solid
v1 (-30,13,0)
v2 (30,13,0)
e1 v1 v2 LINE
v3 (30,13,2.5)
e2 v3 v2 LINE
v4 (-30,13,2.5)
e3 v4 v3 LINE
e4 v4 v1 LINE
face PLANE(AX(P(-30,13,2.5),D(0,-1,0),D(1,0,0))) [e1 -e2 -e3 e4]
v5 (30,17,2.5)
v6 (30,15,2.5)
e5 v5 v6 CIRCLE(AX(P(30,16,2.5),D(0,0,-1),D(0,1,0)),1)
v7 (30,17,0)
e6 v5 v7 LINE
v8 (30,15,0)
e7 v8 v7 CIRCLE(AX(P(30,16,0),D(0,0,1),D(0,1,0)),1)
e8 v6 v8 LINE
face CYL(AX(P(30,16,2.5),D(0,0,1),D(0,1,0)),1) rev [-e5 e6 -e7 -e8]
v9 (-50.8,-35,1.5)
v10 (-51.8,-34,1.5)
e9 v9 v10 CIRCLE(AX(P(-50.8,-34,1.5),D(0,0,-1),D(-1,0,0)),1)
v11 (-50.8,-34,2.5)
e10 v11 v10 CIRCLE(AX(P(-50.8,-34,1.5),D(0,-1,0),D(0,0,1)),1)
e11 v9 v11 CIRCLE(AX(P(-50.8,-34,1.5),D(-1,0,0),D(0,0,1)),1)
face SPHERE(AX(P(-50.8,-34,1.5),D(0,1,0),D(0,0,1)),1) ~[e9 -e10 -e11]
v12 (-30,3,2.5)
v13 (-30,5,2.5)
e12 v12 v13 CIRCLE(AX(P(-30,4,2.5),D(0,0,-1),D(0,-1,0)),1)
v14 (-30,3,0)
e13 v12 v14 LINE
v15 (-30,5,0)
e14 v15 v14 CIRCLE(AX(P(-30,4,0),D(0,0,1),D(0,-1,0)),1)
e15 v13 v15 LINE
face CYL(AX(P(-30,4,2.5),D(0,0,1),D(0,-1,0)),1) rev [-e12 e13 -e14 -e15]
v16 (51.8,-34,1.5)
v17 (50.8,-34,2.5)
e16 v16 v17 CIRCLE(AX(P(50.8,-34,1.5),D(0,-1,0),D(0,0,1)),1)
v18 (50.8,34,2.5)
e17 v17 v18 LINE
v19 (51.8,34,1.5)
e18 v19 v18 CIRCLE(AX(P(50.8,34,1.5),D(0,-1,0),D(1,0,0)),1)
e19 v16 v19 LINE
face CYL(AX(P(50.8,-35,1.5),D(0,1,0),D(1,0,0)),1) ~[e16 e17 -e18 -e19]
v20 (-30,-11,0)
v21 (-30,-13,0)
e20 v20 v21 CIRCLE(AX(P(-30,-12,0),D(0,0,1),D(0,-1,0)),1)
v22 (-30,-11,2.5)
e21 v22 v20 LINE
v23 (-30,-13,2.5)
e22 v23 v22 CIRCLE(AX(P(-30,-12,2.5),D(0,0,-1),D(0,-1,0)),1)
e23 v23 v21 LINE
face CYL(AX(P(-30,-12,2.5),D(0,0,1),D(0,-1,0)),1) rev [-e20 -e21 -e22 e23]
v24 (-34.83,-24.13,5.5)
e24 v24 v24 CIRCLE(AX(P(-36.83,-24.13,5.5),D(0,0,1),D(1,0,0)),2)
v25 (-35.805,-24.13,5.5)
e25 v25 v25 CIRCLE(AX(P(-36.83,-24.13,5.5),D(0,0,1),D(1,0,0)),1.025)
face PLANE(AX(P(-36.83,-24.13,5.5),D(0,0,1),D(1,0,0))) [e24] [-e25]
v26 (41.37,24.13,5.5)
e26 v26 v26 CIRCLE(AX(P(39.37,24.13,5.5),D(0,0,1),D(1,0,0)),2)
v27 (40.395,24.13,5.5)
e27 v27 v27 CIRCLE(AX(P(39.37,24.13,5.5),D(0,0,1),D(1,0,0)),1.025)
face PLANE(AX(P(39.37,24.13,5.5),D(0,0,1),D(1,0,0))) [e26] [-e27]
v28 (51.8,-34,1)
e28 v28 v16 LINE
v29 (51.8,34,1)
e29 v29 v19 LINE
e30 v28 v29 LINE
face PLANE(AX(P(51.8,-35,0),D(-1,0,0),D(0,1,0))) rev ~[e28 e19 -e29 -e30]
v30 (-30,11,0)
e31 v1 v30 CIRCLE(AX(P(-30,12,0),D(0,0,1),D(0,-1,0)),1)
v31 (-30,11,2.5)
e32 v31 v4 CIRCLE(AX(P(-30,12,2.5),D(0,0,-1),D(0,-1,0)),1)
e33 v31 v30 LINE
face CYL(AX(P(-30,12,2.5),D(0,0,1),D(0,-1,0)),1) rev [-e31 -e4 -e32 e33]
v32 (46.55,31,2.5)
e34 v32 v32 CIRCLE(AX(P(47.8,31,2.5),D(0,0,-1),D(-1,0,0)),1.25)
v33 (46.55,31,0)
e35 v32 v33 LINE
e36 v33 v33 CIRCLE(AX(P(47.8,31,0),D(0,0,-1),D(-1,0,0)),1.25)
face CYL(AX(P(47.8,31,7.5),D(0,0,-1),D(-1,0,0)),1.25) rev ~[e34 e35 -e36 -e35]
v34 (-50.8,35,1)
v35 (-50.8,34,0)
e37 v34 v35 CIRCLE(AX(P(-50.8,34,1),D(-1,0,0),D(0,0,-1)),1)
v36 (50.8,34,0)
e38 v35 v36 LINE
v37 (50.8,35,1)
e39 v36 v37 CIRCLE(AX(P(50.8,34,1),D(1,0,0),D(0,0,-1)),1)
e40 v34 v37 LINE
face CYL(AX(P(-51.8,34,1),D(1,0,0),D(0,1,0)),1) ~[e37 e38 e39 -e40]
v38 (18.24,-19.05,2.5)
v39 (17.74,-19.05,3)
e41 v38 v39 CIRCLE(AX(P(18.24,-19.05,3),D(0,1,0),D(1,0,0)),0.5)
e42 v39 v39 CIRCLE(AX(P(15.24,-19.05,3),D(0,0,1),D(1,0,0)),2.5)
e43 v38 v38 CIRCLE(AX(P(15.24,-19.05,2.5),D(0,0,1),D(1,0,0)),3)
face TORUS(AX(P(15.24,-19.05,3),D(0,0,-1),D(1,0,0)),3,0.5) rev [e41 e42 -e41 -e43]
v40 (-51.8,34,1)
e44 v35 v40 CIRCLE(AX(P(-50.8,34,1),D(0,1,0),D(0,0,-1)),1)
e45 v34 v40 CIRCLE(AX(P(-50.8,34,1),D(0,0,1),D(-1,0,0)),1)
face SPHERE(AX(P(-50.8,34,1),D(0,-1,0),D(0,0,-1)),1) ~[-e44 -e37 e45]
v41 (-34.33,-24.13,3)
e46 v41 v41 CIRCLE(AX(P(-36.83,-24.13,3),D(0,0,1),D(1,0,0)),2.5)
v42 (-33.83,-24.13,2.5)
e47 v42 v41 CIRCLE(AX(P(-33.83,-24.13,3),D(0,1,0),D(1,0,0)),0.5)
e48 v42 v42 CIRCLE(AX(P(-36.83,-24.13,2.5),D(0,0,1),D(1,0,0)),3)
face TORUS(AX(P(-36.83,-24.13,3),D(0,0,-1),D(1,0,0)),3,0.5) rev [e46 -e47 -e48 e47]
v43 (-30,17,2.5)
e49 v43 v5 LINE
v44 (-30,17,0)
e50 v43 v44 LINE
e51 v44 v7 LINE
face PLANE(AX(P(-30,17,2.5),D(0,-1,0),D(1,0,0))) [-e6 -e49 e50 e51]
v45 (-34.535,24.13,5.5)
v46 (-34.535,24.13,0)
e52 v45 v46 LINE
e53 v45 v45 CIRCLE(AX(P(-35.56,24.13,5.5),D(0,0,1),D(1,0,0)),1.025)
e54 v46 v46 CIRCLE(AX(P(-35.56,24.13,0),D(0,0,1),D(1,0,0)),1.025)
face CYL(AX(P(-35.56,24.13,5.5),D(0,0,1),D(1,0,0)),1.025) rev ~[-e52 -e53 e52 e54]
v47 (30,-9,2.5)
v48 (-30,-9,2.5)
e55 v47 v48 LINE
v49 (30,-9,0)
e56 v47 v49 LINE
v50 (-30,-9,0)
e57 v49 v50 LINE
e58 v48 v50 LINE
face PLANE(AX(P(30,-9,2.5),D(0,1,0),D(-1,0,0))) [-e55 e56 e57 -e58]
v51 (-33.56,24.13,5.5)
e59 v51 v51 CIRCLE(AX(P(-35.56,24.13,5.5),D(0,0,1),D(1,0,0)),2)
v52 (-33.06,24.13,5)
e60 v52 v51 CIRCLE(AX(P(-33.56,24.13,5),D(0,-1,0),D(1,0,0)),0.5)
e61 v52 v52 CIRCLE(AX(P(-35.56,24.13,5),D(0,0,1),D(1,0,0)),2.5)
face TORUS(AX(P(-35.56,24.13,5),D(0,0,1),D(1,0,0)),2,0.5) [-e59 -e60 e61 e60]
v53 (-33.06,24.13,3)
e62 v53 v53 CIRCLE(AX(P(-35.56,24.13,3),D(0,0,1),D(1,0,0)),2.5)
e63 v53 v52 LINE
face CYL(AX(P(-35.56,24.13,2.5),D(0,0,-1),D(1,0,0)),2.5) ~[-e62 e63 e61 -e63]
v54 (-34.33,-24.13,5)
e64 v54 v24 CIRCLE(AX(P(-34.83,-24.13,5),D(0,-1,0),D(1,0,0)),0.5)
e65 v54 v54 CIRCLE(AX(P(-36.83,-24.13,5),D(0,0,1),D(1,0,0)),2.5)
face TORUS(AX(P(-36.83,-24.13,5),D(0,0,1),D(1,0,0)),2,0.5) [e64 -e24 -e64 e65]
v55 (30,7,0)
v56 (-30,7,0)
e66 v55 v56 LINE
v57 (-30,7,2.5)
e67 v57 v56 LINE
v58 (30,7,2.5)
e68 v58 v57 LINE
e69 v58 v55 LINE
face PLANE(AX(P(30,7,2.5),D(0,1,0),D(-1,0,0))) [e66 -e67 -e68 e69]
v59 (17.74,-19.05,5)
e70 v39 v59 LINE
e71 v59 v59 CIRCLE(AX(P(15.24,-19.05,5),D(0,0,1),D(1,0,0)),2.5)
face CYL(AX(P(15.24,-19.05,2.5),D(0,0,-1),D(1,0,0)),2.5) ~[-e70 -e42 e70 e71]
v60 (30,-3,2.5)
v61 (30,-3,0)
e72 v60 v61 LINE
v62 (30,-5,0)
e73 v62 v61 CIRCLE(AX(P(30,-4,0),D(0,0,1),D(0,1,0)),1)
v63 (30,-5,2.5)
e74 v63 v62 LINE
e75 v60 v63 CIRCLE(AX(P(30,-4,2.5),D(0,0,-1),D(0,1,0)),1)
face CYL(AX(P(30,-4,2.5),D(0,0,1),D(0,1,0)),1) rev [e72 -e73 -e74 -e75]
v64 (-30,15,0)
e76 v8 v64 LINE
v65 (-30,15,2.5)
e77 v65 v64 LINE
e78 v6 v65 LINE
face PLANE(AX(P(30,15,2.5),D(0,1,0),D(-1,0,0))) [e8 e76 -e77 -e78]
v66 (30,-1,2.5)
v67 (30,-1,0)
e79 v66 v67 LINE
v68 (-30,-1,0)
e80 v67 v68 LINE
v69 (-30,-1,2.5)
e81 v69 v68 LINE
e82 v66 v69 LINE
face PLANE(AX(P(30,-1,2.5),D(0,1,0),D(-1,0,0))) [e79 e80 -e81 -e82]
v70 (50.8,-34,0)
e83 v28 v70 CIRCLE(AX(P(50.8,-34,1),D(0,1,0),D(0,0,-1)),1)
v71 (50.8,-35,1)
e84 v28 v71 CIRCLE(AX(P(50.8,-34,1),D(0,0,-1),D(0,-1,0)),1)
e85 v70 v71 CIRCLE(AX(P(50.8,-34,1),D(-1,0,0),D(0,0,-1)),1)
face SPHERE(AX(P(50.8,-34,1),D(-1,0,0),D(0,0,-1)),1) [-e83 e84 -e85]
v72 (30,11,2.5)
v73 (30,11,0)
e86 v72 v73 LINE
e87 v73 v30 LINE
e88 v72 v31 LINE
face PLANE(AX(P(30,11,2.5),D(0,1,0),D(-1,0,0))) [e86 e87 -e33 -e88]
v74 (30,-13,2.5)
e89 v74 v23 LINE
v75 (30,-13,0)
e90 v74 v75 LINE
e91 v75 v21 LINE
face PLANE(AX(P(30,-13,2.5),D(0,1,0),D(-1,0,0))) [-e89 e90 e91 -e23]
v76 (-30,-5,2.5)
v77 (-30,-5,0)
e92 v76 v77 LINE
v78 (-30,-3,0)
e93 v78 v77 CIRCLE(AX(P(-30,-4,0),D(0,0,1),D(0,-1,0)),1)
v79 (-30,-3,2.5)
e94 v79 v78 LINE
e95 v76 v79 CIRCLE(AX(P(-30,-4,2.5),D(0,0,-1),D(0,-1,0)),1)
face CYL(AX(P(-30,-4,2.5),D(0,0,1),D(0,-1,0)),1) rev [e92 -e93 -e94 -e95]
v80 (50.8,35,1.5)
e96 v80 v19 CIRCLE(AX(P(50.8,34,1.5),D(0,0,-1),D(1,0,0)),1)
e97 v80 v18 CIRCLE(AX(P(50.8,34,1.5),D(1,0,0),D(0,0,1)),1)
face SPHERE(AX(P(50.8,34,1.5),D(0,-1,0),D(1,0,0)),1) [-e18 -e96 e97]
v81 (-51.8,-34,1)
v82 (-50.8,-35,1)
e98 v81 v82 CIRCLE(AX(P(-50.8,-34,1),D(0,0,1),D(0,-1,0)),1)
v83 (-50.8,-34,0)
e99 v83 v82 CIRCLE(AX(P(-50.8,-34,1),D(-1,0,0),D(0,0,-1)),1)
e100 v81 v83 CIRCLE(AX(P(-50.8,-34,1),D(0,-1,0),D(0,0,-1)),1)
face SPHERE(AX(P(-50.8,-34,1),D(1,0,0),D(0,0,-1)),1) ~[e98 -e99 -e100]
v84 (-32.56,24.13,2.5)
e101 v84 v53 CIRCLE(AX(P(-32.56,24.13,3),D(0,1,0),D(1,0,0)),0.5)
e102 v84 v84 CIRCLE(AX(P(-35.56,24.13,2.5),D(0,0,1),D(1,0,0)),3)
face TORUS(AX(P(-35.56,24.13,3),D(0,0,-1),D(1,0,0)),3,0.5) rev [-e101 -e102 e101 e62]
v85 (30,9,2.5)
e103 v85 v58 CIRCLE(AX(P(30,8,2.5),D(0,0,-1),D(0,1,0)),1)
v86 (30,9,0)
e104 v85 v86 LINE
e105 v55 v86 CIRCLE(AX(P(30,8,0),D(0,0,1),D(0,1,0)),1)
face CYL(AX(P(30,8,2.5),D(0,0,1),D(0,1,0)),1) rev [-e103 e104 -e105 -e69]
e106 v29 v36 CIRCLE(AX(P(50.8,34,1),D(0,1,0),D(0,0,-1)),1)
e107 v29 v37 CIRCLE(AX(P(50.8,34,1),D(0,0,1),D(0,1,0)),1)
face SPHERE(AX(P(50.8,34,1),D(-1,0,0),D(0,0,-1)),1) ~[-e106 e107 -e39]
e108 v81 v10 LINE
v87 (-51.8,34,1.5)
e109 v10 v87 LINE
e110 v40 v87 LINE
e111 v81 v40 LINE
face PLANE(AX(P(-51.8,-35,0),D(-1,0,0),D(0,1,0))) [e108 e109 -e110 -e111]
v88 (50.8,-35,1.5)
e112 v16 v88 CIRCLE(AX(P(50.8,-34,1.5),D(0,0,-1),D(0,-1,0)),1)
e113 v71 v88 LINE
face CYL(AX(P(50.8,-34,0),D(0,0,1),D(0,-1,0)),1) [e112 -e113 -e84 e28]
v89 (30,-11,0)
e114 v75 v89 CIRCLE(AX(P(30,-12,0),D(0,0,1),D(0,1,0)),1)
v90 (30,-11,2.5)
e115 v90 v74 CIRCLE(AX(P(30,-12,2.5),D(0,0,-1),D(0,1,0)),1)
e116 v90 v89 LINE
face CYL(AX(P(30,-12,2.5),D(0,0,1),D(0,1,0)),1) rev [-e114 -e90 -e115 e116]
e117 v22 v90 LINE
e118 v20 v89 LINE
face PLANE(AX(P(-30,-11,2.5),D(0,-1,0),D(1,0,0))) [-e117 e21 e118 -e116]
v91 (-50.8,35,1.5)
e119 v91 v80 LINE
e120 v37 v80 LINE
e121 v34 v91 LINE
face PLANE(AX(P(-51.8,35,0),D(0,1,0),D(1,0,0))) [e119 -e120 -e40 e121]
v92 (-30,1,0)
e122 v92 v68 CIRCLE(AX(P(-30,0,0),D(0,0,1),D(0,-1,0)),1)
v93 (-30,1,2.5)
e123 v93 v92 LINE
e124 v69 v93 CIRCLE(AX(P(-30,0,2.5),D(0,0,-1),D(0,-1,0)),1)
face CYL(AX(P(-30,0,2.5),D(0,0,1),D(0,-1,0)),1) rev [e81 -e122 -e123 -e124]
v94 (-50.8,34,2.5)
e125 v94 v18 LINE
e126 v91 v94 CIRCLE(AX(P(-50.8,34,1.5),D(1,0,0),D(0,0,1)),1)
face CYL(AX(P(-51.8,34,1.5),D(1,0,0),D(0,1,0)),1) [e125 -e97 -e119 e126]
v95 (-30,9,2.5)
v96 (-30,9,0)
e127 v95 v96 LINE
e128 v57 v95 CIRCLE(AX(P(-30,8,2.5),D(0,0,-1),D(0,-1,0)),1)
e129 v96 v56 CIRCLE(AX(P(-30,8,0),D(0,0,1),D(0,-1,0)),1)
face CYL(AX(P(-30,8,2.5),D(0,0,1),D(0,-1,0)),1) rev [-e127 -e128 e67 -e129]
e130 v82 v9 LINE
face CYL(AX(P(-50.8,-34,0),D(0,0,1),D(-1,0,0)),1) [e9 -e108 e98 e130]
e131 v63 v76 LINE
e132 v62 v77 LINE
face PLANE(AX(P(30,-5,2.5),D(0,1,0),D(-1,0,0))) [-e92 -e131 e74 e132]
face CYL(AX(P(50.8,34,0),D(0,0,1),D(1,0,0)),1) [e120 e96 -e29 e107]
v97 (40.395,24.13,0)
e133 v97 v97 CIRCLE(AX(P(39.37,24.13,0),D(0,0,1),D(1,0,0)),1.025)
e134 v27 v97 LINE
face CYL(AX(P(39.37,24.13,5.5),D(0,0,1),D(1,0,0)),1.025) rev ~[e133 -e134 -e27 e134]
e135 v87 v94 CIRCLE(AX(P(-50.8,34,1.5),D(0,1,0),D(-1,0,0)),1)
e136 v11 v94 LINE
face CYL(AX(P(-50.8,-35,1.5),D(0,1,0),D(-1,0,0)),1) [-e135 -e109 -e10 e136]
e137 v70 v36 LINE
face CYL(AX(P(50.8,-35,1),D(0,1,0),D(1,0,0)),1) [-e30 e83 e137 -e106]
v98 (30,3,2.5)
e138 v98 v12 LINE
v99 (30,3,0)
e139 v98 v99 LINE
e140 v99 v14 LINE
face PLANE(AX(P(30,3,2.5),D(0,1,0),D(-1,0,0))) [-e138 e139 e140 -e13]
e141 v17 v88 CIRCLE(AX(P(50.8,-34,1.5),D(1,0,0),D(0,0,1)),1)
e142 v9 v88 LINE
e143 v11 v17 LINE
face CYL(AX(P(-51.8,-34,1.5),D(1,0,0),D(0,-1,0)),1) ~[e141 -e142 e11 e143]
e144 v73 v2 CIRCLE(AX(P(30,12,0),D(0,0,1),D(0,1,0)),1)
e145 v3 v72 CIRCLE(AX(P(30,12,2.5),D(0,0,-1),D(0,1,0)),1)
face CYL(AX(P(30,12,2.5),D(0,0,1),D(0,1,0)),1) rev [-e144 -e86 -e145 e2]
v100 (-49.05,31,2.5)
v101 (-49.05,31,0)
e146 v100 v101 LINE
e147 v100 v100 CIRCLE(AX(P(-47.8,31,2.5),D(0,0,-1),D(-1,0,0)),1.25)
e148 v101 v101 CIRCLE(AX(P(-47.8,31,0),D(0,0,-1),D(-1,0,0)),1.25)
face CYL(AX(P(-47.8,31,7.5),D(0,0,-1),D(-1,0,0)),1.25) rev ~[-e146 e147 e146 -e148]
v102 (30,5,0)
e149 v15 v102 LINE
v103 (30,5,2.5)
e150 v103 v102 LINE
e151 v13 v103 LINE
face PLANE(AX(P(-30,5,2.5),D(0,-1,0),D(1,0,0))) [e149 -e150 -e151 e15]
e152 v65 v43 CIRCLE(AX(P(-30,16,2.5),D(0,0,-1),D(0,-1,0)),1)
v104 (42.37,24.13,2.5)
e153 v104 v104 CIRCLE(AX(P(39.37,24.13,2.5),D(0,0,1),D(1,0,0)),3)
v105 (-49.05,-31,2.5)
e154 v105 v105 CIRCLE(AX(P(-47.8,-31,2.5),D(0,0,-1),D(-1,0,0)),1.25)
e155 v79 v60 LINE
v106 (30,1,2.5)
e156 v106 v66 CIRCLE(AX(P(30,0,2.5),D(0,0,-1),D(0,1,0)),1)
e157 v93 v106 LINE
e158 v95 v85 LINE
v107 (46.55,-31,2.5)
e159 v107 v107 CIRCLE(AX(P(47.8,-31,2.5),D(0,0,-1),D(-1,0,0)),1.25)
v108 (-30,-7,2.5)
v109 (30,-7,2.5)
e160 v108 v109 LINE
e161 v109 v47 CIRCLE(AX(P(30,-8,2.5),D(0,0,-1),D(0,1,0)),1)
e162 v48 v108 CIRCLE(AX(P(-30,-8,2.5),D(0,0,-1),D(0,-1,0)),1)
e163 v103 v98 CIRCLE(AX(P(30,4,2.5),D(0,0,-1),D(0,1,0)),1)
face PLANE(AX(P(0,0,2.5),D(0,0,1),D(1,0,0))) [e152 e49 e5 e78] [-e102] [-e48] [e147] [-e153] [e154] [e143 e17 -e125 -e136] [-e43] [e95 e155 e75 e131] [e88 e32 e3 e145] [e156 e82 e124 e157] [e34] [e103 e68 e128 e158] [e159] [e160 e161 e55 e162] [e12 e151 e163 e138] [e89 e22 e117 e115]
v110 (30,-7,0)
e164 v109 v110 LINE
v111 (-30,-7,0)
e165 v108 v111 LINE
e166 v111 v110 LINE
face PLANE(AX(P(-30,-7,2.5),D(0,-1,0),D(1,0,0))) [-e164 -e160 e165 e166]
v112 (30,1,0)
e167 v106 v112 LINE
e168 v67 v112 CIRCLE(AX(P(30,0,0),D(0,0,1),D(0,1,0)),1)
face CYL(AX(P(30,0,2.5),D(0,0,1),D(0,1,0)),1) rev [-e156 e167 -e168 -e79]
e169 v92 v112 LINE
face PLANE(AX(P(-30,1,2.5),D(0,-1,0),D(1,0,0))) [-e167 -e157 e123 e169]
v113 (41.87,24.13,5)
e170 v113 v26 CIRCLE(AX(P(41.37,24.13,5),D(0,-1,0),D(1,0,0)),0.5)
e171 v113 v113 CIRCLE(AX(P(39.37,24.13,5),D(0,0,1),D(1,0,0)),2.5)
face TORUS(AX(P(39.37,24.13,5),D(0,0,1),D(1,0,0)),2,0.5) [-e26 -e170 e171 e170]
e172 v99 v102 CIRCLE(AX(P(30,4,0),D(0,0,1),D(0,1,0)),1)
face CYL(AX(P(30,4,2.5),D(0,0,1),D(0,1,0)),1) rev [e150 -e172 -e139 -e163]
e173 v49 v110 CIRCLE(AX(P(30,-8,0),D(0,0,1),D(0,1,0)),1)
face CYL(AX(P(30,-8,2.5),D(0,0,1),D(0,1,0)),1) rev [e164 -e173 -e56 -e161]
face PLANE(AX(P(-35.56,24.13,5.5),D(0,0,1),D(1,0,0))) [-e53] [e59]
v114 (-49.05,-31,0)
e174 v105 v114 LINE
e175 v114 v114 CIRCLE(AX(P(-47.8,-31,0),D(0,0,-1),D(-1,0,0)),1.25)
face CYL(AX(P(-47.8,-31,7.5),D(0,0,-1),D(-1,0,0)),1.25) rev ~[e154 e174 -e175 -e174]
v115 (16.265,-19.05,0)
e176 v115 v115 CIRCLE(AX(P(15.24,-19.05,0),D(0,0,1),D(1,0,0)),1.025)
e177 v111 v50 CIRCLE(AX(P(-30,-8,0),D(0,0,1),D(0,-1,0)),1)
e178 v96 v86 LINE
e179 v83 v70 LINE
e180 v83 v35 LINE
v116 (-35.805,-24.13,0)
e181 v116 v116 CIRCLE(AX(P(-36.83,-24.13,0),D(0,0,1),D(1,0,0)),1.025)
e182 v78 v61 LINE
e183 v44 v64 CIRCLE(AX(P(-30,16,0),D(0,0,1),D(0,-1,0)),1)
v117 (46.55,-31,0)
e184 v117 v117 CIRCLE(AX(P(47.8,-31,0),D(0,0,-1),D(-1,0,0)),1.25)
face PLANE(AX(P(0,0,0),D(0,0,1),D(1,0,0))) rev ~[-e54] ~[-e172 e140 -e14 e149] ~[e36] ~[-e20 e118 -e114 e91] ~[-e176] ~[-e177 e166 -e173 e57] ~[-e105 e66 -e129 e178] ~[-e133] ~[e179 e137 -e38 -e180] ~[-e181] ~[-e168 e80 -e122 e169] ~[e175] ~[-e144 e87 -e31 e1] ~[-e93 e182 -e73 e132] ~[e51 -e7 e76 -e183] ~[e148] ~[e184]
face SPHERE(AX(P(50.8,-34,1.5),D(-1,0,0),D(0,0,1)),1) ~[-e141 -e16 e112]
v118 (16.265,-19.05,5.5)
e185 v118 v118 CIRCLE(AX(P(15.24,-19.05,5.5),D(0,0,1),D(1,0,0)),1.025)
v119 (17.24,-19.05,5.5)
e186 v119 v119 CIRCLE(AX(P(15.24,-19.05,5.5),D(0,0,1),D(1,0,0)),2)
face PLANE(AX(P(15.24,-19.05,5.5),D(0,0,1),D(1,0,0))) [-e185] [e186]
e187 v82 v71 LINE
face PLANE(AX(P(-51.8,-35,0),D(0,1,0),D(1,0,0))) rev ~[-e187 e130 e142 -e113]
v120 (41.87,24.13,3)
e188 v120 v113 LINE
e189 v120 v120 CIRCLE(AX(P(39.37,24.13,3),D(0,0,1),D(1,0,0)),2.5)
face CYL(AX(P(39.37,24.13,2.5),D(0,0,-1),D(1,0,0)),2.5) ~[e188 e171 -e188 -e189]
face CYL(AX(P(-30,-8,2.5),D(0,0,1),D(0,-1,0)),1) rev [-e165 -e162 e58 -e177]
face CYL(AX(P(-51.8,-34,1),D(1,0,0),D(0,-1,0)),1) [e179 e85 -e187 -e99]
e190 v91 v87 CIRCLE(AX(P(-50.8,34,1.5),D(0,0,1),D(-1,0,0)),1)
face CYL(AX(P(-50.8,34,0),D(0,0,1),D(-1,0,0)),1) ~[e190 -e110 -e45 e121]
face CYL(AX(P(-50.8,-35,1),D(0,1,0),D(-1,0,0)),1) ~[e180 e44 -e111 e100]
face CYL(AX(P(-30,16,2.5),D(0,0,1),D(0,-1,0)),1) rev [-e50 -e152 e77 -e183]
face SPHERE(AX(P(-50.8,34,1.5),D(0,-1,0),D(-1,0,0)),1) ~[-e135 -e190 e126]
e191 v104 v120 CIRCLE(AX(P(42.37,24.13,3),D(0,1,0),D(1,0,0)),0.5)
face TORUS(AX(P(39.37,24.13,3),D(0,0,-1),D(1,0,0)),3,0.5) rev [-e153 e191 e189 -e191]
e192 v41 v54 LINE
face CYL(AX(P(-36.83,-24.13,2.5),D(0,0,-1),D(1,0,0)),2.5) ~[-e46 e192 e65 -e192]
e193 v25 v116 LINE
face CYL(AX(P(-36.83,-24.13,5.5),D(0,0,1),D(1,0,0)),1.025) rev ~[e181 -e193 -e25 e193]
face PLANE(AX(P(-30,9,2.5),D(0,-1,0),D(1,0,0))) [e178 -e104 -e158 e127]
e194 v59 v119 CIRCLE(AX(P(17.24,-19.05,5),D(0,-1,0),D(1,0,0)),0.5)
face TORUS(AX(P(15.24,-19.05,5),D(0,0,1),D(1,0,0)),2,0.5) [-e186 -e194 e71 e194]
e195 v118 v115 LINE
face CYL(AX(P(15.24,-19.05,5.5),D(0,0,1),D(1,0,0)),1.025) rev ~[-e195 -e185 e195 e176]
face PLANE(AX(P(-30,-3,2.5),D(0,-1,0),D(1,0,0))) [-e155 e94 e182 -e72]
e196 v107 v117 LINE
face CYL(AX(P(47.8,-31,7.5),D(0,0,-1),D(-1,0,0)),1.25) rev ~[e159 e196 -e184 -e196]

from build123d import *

# Parameters (mm, degrees)
ESQUISSE1_W                                   = 103.6
ESQUISSE1_H                                   = 70
BOSS_EXTRU_1_DEPTH                            = 2.5
CONG_3_R                                      = 1
TROU_POUR_TARAUDAGE_POUR_TROU_TARAUD_M3_D     = 2.5
TROU_POUR_TARAUDAGE_POUR_TROU_TARAUD_M3_DEPTH = 5
TROU_POUR_TARAUDAGE_POUR_TROU_TARAUD_M3_TIP   = 0.751075774
ESQUISSE51_R                                  = 2.5
BOSS_EXTRU_13_DEPTH                           = 3
ESQUISSE52_R                                  = 1.025
ENL_V_MAT_EXTRU_1_DEPTH                       = 5.5
ENL_V_MAT_EXTRU_2_DEPTH                       = 5
R_P_TITION_LIN_AIRE1_COUNT                    = 5
R_P_TITION_LIN_AIRE1_PITCH                    = 4
R_P_TITION_LIN_AIRE1_COL_COUNT                = 4
R_P_TITION_LIN_AIRE1_COL_PITCH                = 4
CONG_4_R                                      = 0.5


with BuildPart() as part:
    # Esquisse1 → Boss.-Extru.1 (new body)
    with BuildSketch(Plane.XY):
        Rectangle(ESQUISSE1_W, ESQUISSE1_H)
    extrude(amount=BOSS_EXTRU_1_DEPTH)

    # Congé3
    cong_3_edges = [part.edges().sort_by_distance(p)[0] for p in [
        (-51.8, 0, 2.5),
        (0, -35, 2.5),
        (51.8, 0, 2.5),
        (0, -35, 0),
        (-51.8, 0, 0),
        (0, 35, 0),
        (51.8, 0, 0),
        (51.8, -35, 1.25),
        (-51.8, -35, 1.25),
        (-51.8, 35, 1.25),
        (51.8, 35, 1.25),
        (0, 35, 2.5),
    ]]
    fillet(cong_3_edges, radius=CONG_3_R)

    # Trou pour taraudage pour trou taraudé M312
    with Locations(Plane(origin=(-47.8, 31, 2.5), x_dir=(1, 0, 0), z_dir=(0, 0, 1))):
        with Locations((0, 0), (0, -62), (95.6, -62), (95.6, 0)):
            Hole(TROU_POUR_TARAUDAGE_POUR_TROU_TARAUD_M3_D / 2, depth=TROU_POUR_TARAUDAGE_POUR_TROU_TARAUD_M3_DEPTH)
            with Locations((0, 0, -(TROU_POUR_TARAUDAGE_POUR_TROU_TARAUD_M3_DEPTH + TROU_POUR_TARAUDAGE_POUR_TROU_TARAUD_M3_TIP / 2))):  # 118° drill point
                Cone(0, TROU_POUR_TARAUDAGE_POUR_TROU_TARAUD_M3_D / 2, TROU_POUR_TARAUDAGE_POUR_TROU_TARAUD_M3_TIP, mode=Mode.SUBTRACT)

    # Esquisse51 → Boss.-Extru.13 (add)
    with BuildSketch(Plane.XY.offset(2.5)):
        with Locations((-36.83, -24.13)):
            Circle(ESQUISSE51_R)
        with Locations((15.24, -19.05)):
            Circle(ESQUISSE51_R)
        with Locations((-35.56, 24.13)):
            Circle(ESQUISSE51_R)
        with Locations((39.37, 24.13)):
            Circle(ESQUISSE51_R)
    extrude(amount=BOSS_EXTRU_13_DEPTH)

    # Esquisse52 → Enlèv. mat.-Extru.1 (cut)
    with BuildSketch(Plane.XY.offset(5.5)):
        with Locations((-36.83, -24.13)):
            Circle(ESQUISSE52_R)
        with Locations((15.24, -19.05)):
            Circle(ESQUISSE52_R)
        with Locations((39.37, 24.13)):
            Circle(ESQUISSE52_R)
        with Locations((-35.56, 24.13)):
            Circle(ESQUISSE52_R)
    extrude(amount=-ENL_V_MAT_EXTRU_1_DEPTH, mode=Mode.SUBTRACT)

    # Esquisse50 → Enlèv. mat.-Extru.2 (cut)
    with BuildSketch(Plane.XY.offset(2.5)):
        with BuildLine():
            Line((30, -1), (-30, -1))
            ThreePointArc((-30, -1), (-31, 0), (-30, 1))
            Line((-30, 1), (30, 1))
            ThreePointArc((30, 1), (31, 0), (30, -1))
        make_face()
    enl_v_mat_extru_2 = extrude(amount=-ENL_V_MAT_EXTRU_2_DEPTH, mode=Mode.SUBTRACT)

    # Répétition linéaire1: Enlèv. mat.-Extru.2 ×5
    with Locations(*[(0, i * R_P_TITION_LIN_AIRE1_PITCH, 0) for i in range(1, R_P_TITION_LIN_AIRE1_COUNT)]):
        add(enl_v_mat_extru_2, mode=Mode.SUBTRACT)

    # Répétition linéaire1 col: Enlèv. mat.-Extru.2 ×4
    with Locations(*[(0, -i * R_P_TITION_LIN_AIRE1_COL_PITCH, 0) for i in range(1, R_P_TITION_LIN_AIRE1_COL_COUNT)]):
        add(enl_v_mat_extru_2, mode=Mode.SUBTRACT)

    # Congé4
    cong_4_edges = [part.edges().sort_by_distance(p)[0] for p in [
        (36.87, 24.13, 2.5),
        (36.87, 24.13, 5.5),
        (12.74, -19.05, 2.5),
        (12.74, -19.05, 5.5),
        (-38.06, 24.13, 2.5),
        (-38.06, 24.13, 5.5),
        (-39.33, -24.13, 2.5),
        (-39.33, -24.13, 5.5),
    ]]
    fillet(cong_4_edges, radius=CONG_4_R)


solid = part.part
